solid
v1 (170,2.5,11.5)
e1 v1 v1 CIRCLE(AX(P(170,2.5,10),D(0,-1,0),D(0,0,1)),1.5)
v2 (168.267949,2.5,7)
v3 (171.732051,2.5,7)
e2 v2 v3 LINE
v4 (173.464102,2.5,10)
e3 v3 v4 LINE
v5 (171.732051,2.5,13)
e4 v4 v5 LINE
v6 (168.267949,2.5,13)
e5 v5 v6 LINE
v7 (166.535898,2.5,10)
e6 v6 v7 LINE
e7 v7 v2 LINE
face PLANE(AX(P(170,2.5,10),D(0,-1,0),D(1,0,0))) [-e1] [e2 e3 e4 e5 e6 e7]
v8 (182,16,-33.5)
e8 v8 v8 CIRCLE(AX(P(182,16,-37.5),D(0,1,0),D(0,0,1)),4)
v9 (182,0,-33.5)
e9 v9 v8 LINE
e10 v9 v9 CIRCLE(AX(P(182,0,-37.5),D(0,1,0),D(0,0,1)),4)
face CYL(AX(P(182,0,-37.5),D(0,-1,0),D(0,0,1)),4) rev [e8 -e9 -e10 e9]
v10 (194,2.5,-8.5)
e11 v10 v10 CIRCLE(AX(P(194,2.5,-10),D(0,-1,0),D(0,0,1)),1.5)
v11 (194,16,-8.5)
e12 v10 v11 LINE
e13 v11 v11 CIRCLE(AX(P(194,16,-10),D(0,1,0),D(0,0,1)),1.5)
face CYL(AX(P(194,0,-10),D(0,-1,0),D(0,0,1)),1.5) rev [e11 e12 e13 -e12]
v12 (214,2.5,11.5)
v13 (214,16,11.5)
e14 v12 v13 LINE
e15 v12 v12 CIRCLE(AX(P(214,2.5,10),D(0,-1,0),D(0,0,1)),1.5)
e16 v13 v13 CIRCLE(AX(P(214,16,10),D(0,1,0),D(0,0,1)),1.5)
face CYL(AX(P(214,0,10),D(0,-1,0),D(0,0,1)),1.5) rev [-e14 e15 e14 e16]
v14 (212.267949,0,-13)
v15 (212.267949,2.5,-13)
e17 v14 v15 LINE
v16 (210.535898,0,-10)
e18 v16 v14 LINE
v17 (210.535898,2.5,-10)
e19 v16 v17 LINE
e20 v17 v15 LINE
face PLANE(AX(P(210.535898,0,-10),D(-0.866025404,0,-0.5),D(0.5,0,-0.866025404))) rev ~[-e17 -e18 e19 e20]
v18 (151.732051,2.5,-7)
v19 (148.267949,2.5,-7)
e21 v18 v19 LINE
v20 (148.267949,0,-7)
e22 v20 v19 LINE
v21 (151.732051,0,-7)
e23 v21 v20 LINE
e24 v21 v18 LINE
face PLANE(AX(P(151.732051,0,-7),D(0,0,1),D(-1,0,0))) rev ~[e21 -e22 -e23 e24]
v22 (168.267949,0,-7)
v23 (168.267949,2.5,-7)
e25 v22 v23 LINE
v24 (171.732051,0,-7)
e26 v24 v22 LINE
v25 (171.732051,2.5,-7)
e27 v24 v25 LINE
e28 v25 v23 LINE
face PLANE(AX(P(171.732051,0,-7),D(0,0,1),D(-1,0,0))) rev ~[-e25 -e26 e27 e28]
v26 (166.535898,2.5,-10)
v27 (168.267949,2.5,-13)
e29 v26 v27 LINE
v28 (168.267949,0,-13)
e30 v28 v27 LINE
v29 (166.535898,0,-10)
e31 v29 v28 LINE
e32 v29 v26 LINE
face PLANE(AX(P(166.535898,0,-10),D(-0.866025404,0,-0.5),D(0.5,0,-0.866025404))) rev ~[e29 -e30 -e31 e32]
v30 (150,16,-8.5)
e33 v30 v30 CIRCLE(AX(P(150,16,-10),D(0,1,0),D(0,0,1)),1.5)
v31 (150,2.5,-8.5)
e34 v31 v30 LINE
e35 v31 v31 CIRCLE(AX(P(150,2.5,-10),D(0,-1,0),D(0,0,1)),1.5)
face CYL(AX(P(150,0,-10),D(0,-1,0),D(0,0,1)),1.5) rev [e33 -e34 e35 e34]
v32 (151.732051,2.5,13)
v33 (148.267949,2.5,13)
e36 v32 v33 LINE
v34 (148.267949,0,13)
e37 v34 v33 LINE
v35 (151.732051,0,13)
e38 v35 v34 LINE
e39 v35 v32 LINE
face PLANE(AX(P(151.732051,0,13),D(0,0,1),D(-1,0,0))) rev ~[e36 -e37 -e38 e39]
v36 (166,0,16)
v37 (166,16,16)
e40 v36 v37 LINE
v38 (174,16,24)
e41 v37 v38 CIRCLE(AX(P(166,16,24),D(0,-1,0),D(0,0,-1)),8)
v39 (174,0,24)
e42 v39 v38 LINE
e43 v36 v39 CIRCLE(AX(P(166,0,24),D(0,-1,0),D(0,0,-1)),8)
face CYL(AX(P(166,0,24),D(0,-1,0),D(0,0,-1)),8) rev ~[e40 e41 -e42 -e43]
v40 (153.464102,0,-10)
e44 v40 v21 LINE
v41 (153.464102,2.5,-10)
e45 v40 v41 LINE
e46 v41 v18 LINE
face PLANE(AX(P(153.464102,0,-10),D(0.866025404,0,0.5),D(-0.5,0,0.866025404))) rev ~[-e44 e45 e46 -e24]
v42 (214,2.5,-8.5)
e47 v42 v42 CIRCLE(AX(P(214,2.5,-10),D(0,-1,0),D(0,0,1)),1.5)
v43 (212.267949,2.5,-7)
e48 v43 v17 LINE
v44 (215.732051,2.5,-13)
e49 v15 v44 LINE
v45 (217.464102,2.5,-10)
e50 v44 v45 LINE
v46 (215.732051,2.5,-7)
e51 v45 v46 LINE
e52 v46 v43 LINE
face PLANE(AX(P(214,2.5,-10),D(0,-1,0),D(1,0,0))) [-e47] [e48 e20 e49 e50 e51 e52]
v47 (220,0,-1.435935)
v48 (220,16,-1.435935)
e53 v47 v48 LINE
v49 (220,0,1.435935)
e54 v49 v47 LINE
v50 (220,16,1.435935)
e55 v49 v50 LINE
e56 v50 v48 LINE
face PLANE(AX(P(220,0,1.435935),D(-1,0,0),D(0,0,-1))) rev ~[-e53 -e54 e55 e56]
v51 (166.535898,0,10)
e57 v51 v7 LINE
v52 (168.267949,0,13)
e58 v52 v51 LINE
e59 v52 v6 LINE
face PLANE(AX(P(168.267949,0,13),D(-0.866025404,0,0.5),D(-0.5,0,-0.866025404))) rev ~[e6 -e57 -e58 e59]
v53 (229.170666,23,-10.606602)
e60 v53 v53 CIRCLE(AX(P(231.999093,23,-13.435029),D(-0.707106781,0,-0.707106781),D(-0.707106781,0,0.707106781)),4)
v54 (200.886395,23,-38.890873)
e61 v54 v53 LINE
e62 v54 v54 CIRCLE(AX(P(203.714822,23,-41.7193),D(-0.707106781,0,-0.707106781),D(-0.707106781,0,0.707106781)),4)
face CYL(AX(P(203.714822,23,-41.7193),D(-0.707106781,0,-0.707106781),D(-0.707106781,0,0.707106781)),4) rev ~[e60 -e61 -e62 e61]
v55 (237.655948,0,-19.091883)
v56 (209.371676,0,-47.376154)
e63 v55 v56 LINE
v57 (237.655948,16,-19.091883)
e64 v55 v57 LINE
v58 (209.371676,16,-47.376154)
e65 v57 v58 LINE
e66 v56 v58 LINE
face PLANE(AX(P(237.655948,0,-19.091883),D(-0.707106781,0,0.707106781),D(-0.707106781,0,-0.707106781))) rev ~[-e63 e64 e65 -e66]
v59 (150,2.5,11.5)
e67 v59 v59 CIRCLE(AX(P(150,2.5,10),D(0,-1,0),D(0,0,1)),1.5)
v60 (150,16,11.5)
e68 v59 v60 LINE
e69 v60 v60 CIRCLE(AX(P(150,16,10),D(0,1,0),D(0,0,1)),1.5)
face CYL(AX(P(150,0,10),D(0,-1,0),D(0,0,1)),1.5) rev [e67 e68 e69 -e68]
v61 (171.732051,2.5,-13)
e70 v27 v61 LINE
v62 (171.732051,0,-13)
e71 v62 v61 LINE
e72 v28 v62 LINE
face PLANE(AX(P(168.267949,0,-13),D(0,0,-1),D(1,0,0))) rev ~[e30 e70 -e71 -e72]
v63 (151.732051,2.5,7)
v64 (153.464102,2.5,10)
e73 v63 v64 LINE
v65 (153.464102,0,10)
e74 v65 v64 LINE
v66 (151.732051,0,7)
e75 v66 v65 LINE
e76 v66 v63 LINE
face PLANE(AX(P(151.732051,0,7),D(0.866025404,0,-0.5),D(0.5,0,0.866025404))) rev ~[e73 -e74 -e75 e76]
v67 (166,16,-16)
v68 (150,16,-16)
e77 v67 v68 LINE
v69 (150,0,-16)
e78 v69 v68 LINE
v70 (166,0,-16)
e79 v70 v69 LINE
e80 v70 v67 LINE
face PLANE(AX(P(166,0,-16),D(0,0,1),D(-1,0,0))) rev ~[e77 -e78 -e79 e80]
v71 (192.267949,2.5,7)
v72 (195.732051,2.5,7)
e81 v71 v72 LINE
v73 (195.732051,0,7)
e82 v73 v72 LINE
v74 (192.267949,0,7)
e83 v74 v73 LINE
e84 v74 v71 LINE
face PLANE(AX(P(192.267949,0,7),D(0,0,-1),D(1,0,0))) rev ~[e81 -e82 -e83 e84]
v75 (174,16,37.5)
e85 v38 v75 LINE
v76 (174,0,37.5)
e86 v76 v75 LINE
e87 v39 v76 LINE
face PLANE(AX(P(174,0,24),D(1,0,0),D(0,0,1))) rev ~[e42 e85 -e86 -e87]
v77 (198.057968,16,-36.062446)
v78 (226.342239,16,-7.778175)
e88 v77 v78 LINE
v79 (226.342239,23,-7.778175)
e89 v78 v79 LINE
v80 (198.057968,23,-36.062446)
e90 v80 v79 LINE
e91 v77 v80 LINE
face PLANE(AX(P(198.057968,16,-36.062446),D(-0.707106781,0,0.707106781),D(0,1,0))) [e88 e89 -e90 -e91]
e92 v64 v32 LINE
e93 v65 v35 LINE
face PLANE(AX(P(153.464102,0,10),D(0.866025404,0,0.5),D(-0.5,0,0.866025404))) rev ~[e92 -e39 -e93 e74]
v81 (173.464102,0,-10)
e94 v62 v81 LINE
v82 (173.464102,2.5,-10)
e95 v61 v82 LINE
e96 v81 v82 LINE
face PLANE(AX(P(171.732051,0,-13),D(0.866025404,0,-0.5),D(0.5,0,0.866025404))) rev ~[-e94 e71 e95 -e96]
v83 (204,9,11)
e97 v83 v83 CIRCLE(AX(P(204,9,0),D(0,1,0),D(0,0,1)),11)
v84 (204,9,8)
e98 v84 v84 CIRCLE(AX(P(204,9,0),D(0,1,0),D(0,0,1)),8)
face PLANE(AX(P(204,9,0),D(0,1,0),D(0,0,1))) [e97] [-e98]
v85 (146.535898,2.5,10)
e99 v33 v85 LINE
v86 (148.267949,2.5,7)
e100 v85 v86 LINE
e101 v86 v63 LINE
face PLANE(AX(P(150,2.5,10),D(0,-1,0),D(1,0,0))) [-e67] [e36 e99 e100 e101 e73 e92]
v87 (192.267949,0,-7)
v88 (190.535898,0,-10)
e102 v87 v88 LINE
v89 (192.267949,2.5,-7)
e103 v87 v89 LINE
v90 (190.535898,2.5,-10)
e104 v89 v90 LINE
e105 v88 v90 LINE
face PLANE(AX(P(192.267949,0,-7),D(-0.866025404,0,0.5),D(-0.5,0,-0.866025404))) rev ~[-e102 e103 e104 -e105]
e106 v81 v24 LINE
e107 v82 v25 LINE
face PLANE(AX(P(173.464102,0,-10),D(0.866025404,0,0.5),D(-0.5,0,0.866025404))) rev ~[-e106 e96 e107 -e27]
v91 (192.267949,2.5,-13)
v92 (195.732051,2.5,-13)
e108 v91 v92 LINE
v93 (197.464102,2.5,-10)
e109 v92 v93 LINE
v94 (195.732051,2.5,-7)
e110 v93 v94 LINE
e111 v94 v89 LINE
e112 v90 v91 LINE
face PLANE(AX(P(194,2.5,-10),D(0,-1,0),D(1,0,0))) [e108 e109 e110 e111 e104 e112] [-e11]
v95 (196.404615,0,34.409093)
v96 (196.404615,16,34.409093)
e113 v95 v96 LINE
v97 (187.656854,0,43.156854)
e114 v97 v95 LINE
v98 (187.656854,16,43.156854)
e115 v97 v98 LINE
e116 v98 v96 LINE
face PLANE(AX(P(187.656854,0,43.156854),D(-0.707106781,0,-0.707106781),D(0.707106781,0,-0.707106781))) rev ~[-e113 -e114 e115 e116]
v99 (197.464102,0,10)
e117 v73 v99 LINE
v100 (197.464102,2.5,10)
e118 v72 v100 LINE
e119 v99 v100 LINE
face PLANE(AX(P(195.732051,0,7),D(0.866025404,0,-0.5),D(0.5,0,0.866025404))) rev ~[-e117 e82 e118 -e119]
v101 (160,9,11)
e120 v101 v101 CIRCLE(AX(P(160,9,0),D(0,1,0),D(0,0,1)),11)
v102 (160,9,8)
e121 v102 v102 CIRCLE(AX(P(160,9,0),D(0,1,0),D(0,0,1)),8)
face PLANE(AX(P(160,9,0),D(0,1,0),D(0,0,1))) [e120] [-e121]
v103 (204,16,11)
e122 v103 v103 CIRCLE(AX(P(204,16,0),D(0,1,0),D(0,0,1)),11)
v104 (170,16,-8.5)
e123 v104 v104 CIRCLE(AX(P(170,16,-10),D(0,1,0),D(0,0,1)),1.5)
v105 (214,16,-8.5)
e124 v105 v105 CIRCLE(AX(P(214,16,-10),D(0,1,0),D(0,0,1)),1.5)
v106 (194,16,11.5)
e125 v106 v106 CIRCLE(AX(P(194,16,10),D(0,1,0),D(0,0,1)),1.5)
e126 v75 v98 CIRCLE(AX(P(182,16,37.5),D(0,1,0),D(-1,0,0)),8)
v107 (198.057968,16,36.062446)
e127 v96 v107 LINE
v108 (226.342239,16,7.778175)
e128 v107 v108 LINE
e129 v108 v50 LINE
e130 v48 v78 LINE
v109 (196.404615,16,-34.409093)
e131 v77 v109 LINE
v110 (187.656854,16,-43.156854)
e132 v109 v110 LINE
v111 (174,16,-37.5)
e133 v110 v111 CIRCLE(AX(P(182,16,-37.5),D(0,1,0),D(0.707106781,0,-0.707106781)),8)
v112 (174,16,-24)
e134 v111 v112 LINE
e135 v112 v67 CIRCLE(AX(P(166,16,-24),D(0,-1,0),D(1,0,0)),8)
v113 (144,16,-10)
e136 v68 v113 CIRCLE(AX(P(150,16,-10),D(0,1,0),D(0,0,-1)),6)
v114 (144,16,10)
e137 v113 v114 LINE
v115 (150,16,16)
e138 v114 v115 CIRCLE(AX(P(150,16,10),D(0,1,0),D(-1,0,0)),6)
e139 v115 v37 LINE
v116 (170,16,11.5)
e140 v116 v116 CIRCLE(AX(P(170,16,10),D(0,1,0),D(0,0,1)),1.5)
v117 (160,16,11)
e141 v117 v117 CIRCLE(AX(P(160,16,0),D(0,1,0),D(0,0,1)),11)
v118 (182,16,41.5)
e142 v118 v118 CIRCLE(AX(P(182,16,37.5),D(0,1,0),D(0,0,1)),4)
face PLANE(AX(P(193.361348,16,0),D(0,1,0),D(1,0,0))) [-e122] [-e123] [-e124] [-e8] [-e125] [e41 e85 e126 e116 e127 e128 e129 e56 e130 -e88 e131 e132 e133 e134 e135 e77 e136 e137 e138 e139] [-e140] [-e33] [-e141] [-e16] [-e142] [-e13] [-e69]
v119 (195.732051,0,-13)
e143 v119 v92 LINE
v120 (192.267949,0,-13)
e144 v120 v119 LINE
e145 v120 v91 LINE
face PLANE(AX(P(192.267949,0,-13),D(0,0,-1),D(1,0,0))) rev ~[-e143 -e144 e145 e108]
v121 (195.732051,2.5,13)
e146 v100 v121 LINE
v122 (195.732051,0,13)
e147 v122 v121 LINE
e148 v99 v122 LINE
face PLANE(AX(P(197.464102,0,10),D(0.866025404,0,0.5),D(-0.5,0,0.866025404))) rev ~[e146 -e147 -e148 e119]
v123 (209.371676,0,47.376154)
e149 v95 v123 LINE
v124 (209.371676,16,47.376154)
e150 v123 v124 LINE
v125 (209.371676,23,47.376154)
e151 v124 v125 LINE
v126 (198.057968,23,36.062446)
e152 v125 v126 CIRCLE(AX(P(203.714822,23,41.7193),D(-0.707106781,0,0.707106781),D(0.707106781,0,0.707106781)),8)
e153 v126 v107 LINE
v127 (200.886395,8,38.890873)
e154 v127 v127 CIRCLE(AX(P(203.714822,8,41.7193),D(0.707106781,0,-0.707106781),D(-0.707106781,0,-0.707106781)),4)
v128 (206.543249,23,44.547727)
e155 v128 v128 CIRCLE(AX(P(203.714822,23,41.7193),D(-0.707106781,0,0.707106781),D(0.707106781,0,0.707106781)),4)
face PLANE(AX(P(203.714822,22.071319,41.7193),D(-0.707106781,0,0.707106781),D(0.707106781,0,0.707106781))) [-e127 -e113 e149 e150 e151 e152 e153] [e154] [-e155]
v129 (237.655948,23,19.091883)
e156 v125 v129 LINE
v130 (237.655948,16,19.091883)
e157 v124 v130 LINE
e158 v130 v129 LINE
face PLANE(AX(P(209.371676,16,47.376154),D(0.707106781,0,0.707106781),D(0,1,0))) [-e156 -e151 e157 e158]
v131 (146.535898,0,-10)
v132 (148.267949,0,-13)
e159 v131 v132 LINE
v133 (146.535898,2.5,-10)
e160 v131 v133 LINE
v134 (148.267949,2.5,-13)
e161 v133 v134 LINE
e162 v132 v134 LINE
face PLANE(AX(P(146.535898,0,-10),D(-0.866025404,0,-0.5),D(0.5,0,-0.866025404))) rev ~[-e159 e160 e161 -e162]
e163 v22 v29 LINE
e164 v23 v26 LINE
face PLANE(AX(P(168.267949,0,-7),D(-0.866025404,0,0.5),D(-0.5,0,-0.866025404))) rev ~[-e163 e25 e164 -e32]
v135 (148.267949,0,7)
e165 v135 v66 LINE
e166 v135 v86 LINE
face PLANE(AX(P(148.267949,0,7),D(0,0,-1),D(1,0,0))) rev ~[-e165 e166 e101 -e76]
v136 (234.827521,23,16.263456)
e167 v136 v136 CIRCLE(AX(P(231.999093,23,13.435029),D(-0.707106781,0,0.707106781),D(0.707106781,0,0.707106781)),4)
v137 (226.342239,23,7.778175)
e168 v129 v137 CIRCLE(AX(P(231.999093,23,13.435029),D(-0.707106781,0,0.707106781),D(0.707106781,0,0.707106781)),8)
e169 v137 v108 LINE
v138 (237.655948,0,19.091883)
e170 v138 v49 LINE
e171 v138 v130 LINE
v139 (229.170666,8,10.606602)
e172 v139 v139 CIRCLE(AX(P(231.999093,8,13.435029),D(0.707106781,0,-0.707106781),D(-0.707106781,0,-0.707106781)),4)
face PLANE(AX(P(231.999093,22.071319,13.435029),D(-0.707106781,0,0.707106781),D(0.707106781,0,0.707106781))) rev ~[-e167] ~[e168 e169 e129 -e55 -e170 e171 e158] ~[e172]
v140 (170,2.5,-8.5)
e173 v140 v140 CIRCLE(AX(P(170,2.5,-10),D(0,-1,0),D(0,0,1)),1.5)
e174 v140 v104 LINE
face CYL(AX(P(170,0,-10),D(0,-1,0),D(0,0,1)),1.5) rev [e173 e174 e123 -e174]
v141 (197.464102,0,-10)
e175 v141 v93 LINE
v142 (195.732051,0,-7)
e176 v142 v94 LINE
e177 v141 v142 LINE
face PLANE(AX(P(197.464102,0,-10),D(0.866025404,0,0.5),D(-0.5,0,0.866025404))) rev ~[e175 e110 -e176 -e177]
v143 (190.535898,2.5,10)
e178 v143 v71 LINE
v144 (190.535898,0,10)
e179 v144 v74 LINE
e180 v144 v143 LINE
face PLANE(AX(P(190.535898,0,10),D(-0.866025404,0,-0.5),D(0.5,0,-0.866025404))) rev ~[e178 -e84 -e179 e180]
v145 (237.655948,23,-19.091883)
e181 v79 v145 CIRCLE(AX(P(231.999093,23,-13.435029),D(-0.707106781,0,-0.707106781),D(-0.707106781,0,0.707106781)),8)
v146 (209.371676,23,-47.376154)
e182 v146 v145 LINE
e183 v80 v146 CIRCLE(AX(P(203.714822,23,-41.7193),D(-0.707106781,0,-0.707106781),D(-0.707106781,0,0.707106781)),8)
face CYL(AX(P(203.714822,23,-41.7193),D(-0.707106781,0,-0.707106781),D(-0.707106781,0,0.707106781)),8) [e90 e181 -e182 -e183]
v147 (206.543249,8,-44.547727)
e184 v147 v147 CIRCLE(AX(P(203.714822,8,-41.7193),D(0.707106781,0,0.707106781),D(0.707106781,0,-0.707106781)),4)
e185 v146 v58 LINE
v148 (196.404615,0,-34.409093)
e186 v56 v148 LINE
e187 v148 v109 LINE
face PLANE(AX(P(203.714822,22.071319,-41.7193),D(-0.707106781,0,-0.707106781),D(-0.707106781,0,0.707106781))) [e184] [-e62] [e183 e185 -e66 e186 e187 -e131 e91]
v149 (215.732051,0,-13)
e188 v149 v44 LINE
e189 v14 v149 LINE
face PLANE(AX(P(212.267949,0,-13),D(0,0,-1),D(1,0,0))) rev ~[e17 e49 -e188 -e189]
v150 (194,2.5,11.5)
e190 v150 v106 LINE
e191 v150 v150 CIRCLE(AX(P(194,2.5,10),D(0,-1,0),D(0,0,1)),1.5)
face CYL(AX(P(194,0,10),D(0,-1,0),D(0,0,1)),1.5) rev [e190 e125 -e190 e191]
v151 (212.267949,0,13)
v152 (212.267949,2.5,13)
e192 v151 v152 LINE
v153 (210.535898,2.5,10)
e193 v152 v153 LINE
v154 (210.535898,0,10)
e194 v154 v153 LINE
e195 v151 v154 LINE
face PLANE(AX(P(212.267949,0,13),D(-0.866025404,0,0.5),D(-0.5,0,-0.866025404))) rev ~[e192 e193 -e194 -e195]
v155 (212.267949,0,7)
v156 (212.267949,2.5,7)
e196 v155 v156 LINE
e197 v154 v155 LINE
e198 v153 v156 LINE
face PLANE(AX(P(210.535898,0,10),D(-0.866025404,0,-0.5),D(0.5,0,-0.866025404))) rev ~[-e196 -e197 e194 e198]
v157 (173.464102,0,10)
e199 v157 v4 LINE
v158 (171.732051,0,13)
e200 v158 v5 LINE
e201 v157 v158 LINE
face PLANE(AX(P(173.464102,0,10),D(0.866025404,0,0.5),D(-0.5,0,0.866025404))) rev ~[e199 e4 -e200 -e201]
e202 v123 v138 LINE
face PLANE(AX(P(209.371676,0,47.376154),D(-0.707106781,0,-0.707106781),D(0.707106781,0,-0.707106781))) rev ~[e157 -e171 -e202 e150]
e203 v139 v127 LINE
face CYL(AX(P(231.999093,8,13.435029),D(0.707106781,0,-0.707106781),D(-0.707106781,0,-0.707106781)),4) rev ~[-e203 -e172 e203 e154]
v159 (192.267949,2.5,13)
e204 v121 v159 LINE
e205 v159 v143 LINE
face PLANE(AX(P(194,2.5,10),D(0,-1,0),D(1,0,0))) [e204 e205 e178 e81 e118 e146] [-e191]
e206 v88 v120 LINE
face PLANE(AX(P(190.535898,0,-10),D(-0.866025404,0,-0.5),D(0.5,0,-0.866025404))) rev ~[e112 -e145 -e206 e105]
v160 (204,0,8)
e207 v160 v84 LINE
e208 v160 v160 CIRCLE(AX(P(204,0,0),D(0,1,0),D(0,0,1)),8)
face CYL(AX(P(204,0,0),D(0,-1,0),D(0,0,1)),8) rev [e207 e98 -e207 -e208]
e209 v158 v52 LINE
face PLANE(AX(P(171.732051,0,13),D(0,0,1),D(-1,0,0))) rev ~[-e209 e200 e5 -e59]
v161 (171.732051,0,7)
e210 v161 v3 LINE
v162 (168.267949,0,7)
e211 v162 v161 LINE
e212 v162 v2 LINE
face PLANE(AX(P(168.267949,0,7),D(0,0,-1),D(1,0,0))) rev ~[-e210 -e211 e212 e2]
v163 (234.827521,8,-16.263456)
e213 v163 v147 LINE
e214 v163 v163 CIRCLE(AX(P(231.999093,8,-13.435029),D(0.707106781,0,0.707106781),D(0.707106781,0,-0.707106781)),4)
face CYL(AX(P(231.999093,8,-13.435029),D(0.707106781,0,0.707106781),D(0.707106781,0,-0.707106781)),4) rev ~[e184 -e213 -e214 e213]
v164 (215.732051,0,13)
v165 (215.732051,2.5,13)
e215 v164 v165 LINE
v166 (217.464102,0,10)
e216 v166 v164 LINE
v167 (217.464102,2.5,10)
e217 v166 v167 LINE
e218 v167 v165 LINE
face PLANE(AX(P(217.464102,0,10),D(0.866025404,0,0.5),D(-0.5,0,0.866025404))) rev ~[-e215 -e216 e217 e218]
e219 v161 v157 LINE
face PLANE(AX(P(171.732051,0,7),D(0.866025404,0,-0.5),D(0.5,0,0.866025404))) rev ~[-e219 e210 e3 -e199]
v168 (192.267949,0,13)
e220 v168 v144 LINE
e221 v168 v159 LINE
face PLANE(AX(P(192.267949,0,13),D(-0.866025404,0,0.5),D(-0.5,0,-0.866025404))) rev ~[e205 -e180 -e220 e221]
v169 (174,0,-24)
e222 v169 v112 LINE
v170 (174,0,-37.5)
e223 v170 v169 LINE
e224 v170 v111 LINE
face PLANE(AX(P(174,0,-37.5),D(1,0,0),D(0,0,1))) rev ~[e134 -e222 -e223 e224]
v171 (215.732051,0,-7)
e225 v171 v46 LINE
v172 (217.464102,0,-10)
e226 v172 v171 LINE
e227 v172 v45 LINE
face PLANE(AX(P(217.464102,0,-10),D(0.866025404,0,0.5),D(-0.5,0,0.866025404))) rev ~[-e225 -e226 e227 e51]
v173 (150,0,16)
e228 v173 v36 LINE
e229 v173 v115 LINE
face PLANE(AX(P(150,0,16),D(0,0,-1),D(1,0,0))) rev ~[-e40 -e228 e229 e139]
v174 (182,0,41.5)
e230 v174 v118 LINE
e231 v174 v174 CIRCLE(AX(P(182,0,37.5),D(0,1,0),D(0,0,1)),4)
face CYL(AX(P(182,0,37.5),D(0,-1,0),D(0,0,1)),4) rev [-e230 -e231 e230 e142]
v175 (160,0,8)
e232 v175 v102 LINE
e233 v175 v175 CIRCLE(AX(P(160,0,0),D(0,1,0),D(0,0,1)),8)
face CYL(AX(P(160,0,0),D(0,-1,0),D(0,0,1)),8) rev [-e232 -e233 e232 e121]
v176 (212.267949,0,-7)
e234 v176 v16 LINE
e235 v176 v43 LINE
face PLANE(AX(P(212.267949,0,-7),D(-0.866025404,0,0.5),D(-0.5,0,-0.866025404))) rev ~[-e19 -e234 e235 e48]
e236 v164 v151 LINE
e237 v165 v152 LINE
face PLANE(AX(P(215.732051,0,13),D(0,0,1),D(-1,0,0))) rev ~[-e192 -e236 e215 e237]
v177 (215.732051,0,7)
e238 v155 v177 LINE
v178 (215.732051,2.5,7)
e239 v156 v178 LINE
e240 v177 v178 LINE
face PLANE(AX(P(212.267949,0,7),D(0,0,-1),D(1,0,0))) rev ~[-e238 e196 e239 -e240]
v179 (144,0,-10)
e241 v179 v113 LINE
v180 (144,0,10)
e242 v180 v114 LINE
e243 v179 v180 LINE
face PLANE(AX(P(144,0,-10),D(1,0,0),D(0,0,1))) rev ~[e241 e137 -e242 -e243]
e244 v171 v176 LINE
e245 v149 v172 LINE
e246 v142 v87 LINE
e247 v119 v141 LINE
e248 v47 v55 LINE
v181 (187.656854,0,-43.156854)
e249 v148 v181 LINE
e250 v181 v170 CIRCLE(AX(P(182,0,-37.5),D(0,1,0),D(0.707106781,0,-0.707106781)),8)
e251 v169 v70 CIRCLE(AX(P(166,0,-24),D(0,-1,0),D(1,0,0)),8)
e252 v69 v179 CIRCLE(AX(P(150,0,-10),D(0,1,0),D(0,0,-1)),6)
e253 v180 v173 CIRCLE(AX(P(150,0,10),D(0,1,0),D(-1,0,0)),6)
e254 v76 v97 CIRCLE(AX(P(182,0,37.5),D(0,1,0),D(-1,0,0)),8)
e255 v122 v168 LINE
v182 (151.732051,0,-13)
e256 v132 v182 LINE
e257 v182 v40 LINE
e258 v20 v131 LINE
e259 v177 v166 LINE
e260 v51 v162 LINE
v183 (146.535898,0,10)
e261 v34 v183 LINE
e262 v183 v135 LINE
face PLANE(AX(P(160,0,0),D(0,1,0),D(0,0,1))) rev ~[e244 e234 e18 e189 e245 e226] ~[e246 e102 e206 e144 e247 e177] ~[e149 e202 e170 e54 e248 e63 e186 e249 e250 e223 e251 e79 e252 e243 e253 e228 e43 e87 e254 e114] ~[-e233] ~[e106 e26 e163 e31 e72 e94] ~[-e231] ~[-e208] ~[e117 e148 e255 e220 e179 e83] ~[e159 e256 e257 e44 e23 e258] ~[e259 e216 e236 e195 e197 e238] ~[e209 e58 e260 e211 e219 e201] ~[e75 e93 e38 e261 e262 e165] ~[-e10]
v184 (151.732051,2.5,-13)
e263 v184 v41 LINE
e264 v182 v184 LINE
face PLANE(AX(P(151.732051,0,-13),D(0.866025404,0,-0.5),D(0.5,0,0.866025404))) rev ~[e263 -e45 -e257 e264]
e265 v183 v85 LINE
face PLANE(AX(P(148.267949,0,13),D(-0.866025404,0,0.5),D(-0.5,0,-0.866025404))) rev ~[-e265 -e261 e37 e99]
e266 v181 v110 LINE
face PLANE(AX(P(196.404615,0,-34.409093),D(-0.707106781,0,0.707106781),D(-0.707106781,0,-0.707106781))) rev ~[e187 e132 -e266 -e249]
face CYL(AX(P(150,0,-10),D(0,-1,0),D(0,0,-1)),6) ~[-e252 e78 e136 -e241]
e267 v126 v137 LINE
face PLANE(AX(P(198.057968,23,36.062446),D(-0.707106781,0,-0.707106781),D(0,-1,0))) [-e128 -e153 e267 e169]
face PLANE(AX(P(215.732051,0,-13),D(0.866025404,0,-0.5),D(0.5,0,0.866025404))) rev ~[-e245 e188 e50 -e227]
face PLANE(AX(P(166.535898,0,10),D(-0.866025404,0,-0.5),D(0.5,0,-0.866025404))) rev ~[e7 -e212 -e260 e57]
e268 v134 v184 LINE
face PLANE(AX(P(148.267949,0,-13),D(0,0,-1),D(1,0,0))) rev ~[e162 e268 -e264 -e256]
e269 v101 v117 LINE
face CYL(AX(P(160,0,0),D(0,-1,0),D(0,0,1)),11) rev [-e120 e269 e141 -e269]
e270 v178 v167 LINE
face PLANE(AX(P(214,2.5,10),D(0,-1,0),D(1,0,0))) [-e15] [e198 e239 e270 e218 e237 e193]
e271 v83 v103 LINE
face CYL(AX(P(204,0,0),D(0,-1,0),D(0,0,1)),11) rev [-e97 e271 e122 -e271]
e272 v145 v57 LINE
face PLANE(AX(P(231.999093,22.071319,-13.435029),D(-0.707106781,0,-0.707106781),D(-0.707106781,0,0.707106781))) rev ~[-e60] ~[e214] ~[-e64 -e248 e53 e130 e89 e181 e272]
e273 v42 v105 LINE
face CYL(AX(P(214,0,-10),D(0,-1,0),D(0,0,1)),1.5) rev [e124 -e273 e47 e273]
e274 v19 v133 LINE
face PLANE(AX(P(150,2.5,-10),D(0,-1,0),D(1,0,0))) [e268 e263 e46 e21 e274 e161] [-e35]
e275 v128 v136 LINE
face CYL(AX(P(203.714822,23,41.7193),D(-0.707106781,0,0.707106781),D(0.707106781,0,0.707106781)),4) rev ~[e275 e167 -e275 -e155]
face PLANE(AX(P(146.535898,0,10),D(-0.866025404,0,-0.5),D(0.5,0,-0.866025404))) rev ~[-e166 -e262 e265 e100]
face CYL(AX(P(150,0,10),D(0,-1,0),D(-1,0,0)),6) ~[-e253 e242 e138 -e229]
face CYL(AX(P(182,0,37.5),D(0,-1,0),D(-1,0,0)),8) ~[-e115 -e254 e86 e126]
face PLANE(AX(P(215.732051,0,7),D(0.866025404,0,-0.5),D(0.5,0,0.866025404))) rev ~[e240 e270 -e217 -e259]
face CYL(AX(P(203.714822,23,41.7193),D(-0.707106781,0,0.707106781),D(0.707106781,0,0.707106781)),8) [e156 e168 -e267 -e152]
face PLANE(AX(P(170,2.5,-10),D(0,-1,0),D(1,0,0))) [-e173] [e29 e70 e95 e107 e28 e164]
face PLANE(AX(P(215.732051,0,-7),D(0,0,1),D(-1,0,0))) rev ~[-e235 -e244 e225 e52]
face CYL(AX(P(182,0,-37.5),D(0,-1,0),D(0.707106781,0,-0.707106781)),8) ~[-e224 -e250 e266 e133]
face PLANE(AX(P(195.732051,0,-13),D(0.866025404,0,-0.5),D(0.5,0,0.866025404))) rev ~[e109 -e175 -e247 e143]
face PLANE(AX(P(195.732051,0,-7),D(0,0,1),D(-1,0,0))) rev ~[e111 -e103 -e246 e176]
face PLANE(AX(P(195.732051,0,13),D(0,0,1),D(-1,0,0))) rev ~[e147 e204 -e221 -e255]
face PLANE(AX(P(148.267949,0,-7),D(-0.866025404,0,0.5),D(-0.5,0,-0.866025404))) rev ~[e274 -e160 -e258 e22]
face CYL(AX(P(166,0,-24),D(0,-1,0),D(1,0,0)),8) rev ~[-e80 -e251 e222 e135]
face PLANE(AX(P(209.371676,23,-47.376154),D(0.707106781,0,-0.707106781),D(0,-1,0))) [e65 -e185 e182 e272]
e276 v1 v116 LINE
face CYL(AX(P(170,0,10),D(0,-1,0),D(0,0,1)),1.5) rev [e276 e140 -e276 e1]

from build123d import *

# Parameters (mm, degrees)
SKETCH1_R           = 11
SKETCH1_R_2         = 1.5
SKETCH1_R_3         = 4
BOSS_EXTRUDE1_DEPTH = 16
SKETCH1_4_R         = 11
SKETCH1_4_R_2       = 8
BOSS_EXTRUDE2_DEPTH = 9
SKETCH2_R           = 4
CUT_EXTRUDE1_DEPTH  = 204.169017313
SKETCH3_R           = 4
CUT_EXTRUDE2_DEPTH  = 204.169017313
SKETCH1_5_R         = 11
SKETCH1_5_R_2       = 8
BOSS_EXTRUDE3_DEPTH = 9
CUT_EXTRUDE3_DEPTH  = 2.5
SKETCH5_R           = 4
BOSS_EXTRUDE4_DEPTH = 40
SKETCH6_R           = 4
BOSS_EXTRUDE5_DEPTH = 40


with BuildPart() as part:
    # Sketch1 → Boss-Extrude1 (new body)
    with BuildSketch(Plane(origin=(0, 0, 0), x_dir=(1, 0, 0), z_dir=(0, 1, 0))):
        with BuildLine():
            Line((196.404615305, 34.409093194), (187.656854249, 43.156854249))
            ThreePointArc((187.656854249, 43.156854249), (178.938532541, 44.89103626), (174, 37.5))
            Line((174, 37.5), (174, 24))
            ThreePointArc((174, 24), (171.656854249, 18.343145751), (166, 16))
            Line((166, 16), (150, 16))
            ThreePointArc((150, 16), (145.757359313, 14.242640687), (144, 10))
            Line((144, 10), (144, -10))
            ThreePointArc((144, -10), (145.757359313, -14.242640687), (150, -16))
            Line((150, -16), (166, -16))
            ThreePointArc((166, -16), (171.656854249, -18.343145751), (174, -24))
            Line((174, -24), (174, -37.5))
            ThreePointArc((174, -37.5), (178.938532541, -44.89103626), (187.656854249, -43.156854249))
            Line((187.656854249, -43.156854249), (196.404615305, -34.409093194))
            Line((196.404615305, -34.409093194), (209.37167645, -47.376154339))
            Line((209.37167645, -47.376154339), (237.655947698, -19.091883092))
            Line((237.655947698, -19.091883092), (220, -1.435935394))
            Line((220, -1.435935394), (220, 1.435935394))
            Line((220, 1.435935394), (237.655947698, 19.091883092))
            Line((237.655947698, 19.091883092), (209.37167645, 47.376154339))
            Line((209.37167645, 47.376154339), (196.404615305, 34.409093194))
        make_face()
        with Locations(Location((160, 0, 0), (0, 0, 270))):
            Circle(SKETCH1_R, mode=Mode.SUBTRACT)
        with Locations(Location((150, 10, 0), (0, 0, 270))):
            Circle(SKETCH1_R_2, mode=Mode.SUBTRACT)
        with Locations(Location((170, 10, 0), (0, 0, 270))):
            Circle(SKETCH1_R_2, mode=Mode.SUBTRACT)
        with Locations(Location((170, -10, 0), (0, 0, 270))):
            Circle(SKETCH1_R_2, mode=Mode.SUBTRACT)
        with Locations(Location((150, -10, 0), (0, 0, 270))):
            Circle(SKETCH1_R_2, mode=Mode.SUBTRACT)
        with Locations(Location((204, 0, 0), (0, 0, 270))):
            Circle(SKETCH1_R, mode=Mode.SUBTRACT)
        with Locations(Location((182, 37.5, 0), (0, 0, 270))):
            Circle(SKETCH1_R_3, mode=Mode.SUBTRACT)
        with Locations(Location((194, 10, 0), (0, 0, 270))):
            Circle(SKETCH1_R_2, mode=Mode.SUBTRACT)
        with Locations(Location((214, 10, 0), (0, 0, 270))):
            Circle(SKETCH1_R_2, mode=Mode.SUBTRACT)
        with Locations(Location((214, -10, 0), (0, 0, 270))):
            Circle(SKETCH1_R_2, mode=Mode.SUBTRACT)
        with Locations(Location((194, -10, 0), (0, 0, 270))):
            Circle(SKETCH1_R_2, mode=Mode.SUBTRACT)
        with Locations(Location((182, -37.5, 0), (0, 0, 270))):
            Circle(SKETCH1_R_3, mode=Mode.SUBTRACT)
    extrude(amount=BOSS_EXTRUDE1_DEPTH)

    # Sketch1<4> → Boss-Extrude2 (add)
    with BuildSketch(Plane(origin=(0, 0, 0), x_dir=(1, 0, 0), z_dir=(0, 1, 0))):
        with Locations(Location((204, 0, 0), (0, 0, 270))):
            Circle(SKETCH1_4_R)
        with Locations(Location((204, 0, 0), (0, 0, 270))):
            Circle(SKETCH1_4_R_2, mode=Mode.SUBTRACT)
    extrude(amount=BOSS_EXTRUDE2_DEPTH)

    # Sketch2 → Cut-Extrude1 (cut, through all)
    with BuildSketch(Plane(origin=(109.282032303, 0, 109.282032303), x_dir=(0.7071067811865286, 0, -0.7071067811865666), z_dir=(0.7071067811865666, 0, 0.7071067811865286))):
        with Locations((173.548132206, 8)):
            Circle(SKETCH2_R)
    extrude(amount=-CUT_EXTRUDE1_DEPTH, mode=Mode.SUBTRACT)

    # Sketch3 → Cut-Extrude2 (cut, through all)
    with BuildSketch(Plane(origin=(109.282032303, 0, -109.282032303), x_dir=(-0.7071067811865511, 0, -0.707106781186544), z_dir=(0.707106781186544, 0, -0.7071067811865511))):
        with Locations((-173.548132206, 8)):
            Circle(SKETCH3_R)
    extrude(amount=-CUT_EXTRUDE2_DEPTH, mode=Mode.SUBTRACT)

    # Sketch1<5> → Boss-Extrude3 (add)
    with BuildSketch(Plane(origin=(0, 0, 0), x_dir=(1, 0, 0), z_dir=(0, 1, 0))):
        with Locations(Location((160, 0, 0), (0, 0, 270))):
            Circle(SKETCH1_5_R)
        with Locations(Location((160, 0, 0), (0, 0, 270))):
            Circle(SKETCH1_5_R_2, mode=Mode.SUBTRACT)
    extrude(amount=BOSS_EXTRUDE3_DEPTH)

    # Sketch4 → Cut-Extrude3 (cut)
    with BuildSketch(Plane.XZ):
        Polygon((153.464101615, 10), (151.732050808, 13), (148.267949192, 13), (146.535898385, 10), (148.267949192, 7), (151.732050808, 7), align=None)
        Polygon((173.464101615, 10), (171.732050808, 13), (168.267949192, 13), (166.535898385, 10), (168.267949192, 7), (171.732050808, 7), align=None)
        Polygon((153.464101615, -10), (151.732050808, -7), (148.267949192, -7), (146.535898385, -10), (148.267949192, -13), (151.732050808, -13), align=None)
        Polygon((173.464101615, -10), (171.732050808, -7), (168.267949192, -7), (166.535898385, -10), (168.267949192, -13), (171.732050808, -13), align=None)
        Polygon((197.464101615, 10), (195.732050808, 13), (192.267949192, 13), (190.535898385, 10), (192.267949192, 7), (195.732050808, 7), align=None)
        Polygon((217.464101615, 10), (215.732050808, 13), (212.267949192, 13), (210.535898385, 10), (212.267949192, 7), (215.732050808, 7), align=None)
        Polygon((197.464101615, -10), (195.732050808, -7), (192.267949192, -7), (190.535898385, -10), (192.267949192, -13), (195.732050808, -13), align=None)
        Polygon((217.464101615, -10), (215.732050808, -7), (212.267949192, -7), (210.535898385, -10), (212.267949192, -13), (215.732050808, -13), align=None)
    extrude(amount=-CUT_EXTRUDE3_DEPTH, mode=Mode.SUBTRACT)

    # Sketch5 → Boss-Extrude4 (add)
    with BuildSketch(Plane(origin=(80.997761055, 0, -80.997761055), x_dir=(0.7071067811865509, 0, 0.7071067811865441), z_dir=(-0.7071067811865441, 0, 0.7071067811865509))):
        with BuildLine():
            Line((181.548132206, 16), (181.548132206, 23))
            ThreePointArc((181.548132206, 23), (173.548132206, 31), (165.548132206, 23))
            Line((165.548132206, 23), (165.548132206, 16))
            Line((165.548132206, 16), (181.548132206, 16))
        make_face()
        with Locations((173.548132206, 23)):
            Circle(SKETCH5_R, mode=Mode.SUBTRACT)
    extrude(amount=-BOSS_EXTRUDE4_DEPTH)

    # Sketch6 → Boss-Extrude5 (add)
    with BuildSketch(Plane(origin=(80.997761055, 0, 80.997761055), x_dir=(-0.7071067811865172, 0, 0.707106781186578), z_dir=(-0.707106781186578, 0, -0.7071067811865172))):
        with BuildLine():
            Line((-165.548132206, 16), (-165.548132206, 23))
            ThreePointArc((-165.548132206, 23), (-173.548132206, 31), (-181.548132206, 23))
            Line((-181.548132206, 23), (-181.548132206, 16))
            Line((-181.548132206, 16), (-165.548132206, 16))
        make_face()
        with Locations((-173.548132206, 23)):
            Circle(SKETCH6_R, mode=Mode.SUBTRACT)
    extrude(amount=-BOSS_EXTRUDE5_DEPTH)


solid = part.part
